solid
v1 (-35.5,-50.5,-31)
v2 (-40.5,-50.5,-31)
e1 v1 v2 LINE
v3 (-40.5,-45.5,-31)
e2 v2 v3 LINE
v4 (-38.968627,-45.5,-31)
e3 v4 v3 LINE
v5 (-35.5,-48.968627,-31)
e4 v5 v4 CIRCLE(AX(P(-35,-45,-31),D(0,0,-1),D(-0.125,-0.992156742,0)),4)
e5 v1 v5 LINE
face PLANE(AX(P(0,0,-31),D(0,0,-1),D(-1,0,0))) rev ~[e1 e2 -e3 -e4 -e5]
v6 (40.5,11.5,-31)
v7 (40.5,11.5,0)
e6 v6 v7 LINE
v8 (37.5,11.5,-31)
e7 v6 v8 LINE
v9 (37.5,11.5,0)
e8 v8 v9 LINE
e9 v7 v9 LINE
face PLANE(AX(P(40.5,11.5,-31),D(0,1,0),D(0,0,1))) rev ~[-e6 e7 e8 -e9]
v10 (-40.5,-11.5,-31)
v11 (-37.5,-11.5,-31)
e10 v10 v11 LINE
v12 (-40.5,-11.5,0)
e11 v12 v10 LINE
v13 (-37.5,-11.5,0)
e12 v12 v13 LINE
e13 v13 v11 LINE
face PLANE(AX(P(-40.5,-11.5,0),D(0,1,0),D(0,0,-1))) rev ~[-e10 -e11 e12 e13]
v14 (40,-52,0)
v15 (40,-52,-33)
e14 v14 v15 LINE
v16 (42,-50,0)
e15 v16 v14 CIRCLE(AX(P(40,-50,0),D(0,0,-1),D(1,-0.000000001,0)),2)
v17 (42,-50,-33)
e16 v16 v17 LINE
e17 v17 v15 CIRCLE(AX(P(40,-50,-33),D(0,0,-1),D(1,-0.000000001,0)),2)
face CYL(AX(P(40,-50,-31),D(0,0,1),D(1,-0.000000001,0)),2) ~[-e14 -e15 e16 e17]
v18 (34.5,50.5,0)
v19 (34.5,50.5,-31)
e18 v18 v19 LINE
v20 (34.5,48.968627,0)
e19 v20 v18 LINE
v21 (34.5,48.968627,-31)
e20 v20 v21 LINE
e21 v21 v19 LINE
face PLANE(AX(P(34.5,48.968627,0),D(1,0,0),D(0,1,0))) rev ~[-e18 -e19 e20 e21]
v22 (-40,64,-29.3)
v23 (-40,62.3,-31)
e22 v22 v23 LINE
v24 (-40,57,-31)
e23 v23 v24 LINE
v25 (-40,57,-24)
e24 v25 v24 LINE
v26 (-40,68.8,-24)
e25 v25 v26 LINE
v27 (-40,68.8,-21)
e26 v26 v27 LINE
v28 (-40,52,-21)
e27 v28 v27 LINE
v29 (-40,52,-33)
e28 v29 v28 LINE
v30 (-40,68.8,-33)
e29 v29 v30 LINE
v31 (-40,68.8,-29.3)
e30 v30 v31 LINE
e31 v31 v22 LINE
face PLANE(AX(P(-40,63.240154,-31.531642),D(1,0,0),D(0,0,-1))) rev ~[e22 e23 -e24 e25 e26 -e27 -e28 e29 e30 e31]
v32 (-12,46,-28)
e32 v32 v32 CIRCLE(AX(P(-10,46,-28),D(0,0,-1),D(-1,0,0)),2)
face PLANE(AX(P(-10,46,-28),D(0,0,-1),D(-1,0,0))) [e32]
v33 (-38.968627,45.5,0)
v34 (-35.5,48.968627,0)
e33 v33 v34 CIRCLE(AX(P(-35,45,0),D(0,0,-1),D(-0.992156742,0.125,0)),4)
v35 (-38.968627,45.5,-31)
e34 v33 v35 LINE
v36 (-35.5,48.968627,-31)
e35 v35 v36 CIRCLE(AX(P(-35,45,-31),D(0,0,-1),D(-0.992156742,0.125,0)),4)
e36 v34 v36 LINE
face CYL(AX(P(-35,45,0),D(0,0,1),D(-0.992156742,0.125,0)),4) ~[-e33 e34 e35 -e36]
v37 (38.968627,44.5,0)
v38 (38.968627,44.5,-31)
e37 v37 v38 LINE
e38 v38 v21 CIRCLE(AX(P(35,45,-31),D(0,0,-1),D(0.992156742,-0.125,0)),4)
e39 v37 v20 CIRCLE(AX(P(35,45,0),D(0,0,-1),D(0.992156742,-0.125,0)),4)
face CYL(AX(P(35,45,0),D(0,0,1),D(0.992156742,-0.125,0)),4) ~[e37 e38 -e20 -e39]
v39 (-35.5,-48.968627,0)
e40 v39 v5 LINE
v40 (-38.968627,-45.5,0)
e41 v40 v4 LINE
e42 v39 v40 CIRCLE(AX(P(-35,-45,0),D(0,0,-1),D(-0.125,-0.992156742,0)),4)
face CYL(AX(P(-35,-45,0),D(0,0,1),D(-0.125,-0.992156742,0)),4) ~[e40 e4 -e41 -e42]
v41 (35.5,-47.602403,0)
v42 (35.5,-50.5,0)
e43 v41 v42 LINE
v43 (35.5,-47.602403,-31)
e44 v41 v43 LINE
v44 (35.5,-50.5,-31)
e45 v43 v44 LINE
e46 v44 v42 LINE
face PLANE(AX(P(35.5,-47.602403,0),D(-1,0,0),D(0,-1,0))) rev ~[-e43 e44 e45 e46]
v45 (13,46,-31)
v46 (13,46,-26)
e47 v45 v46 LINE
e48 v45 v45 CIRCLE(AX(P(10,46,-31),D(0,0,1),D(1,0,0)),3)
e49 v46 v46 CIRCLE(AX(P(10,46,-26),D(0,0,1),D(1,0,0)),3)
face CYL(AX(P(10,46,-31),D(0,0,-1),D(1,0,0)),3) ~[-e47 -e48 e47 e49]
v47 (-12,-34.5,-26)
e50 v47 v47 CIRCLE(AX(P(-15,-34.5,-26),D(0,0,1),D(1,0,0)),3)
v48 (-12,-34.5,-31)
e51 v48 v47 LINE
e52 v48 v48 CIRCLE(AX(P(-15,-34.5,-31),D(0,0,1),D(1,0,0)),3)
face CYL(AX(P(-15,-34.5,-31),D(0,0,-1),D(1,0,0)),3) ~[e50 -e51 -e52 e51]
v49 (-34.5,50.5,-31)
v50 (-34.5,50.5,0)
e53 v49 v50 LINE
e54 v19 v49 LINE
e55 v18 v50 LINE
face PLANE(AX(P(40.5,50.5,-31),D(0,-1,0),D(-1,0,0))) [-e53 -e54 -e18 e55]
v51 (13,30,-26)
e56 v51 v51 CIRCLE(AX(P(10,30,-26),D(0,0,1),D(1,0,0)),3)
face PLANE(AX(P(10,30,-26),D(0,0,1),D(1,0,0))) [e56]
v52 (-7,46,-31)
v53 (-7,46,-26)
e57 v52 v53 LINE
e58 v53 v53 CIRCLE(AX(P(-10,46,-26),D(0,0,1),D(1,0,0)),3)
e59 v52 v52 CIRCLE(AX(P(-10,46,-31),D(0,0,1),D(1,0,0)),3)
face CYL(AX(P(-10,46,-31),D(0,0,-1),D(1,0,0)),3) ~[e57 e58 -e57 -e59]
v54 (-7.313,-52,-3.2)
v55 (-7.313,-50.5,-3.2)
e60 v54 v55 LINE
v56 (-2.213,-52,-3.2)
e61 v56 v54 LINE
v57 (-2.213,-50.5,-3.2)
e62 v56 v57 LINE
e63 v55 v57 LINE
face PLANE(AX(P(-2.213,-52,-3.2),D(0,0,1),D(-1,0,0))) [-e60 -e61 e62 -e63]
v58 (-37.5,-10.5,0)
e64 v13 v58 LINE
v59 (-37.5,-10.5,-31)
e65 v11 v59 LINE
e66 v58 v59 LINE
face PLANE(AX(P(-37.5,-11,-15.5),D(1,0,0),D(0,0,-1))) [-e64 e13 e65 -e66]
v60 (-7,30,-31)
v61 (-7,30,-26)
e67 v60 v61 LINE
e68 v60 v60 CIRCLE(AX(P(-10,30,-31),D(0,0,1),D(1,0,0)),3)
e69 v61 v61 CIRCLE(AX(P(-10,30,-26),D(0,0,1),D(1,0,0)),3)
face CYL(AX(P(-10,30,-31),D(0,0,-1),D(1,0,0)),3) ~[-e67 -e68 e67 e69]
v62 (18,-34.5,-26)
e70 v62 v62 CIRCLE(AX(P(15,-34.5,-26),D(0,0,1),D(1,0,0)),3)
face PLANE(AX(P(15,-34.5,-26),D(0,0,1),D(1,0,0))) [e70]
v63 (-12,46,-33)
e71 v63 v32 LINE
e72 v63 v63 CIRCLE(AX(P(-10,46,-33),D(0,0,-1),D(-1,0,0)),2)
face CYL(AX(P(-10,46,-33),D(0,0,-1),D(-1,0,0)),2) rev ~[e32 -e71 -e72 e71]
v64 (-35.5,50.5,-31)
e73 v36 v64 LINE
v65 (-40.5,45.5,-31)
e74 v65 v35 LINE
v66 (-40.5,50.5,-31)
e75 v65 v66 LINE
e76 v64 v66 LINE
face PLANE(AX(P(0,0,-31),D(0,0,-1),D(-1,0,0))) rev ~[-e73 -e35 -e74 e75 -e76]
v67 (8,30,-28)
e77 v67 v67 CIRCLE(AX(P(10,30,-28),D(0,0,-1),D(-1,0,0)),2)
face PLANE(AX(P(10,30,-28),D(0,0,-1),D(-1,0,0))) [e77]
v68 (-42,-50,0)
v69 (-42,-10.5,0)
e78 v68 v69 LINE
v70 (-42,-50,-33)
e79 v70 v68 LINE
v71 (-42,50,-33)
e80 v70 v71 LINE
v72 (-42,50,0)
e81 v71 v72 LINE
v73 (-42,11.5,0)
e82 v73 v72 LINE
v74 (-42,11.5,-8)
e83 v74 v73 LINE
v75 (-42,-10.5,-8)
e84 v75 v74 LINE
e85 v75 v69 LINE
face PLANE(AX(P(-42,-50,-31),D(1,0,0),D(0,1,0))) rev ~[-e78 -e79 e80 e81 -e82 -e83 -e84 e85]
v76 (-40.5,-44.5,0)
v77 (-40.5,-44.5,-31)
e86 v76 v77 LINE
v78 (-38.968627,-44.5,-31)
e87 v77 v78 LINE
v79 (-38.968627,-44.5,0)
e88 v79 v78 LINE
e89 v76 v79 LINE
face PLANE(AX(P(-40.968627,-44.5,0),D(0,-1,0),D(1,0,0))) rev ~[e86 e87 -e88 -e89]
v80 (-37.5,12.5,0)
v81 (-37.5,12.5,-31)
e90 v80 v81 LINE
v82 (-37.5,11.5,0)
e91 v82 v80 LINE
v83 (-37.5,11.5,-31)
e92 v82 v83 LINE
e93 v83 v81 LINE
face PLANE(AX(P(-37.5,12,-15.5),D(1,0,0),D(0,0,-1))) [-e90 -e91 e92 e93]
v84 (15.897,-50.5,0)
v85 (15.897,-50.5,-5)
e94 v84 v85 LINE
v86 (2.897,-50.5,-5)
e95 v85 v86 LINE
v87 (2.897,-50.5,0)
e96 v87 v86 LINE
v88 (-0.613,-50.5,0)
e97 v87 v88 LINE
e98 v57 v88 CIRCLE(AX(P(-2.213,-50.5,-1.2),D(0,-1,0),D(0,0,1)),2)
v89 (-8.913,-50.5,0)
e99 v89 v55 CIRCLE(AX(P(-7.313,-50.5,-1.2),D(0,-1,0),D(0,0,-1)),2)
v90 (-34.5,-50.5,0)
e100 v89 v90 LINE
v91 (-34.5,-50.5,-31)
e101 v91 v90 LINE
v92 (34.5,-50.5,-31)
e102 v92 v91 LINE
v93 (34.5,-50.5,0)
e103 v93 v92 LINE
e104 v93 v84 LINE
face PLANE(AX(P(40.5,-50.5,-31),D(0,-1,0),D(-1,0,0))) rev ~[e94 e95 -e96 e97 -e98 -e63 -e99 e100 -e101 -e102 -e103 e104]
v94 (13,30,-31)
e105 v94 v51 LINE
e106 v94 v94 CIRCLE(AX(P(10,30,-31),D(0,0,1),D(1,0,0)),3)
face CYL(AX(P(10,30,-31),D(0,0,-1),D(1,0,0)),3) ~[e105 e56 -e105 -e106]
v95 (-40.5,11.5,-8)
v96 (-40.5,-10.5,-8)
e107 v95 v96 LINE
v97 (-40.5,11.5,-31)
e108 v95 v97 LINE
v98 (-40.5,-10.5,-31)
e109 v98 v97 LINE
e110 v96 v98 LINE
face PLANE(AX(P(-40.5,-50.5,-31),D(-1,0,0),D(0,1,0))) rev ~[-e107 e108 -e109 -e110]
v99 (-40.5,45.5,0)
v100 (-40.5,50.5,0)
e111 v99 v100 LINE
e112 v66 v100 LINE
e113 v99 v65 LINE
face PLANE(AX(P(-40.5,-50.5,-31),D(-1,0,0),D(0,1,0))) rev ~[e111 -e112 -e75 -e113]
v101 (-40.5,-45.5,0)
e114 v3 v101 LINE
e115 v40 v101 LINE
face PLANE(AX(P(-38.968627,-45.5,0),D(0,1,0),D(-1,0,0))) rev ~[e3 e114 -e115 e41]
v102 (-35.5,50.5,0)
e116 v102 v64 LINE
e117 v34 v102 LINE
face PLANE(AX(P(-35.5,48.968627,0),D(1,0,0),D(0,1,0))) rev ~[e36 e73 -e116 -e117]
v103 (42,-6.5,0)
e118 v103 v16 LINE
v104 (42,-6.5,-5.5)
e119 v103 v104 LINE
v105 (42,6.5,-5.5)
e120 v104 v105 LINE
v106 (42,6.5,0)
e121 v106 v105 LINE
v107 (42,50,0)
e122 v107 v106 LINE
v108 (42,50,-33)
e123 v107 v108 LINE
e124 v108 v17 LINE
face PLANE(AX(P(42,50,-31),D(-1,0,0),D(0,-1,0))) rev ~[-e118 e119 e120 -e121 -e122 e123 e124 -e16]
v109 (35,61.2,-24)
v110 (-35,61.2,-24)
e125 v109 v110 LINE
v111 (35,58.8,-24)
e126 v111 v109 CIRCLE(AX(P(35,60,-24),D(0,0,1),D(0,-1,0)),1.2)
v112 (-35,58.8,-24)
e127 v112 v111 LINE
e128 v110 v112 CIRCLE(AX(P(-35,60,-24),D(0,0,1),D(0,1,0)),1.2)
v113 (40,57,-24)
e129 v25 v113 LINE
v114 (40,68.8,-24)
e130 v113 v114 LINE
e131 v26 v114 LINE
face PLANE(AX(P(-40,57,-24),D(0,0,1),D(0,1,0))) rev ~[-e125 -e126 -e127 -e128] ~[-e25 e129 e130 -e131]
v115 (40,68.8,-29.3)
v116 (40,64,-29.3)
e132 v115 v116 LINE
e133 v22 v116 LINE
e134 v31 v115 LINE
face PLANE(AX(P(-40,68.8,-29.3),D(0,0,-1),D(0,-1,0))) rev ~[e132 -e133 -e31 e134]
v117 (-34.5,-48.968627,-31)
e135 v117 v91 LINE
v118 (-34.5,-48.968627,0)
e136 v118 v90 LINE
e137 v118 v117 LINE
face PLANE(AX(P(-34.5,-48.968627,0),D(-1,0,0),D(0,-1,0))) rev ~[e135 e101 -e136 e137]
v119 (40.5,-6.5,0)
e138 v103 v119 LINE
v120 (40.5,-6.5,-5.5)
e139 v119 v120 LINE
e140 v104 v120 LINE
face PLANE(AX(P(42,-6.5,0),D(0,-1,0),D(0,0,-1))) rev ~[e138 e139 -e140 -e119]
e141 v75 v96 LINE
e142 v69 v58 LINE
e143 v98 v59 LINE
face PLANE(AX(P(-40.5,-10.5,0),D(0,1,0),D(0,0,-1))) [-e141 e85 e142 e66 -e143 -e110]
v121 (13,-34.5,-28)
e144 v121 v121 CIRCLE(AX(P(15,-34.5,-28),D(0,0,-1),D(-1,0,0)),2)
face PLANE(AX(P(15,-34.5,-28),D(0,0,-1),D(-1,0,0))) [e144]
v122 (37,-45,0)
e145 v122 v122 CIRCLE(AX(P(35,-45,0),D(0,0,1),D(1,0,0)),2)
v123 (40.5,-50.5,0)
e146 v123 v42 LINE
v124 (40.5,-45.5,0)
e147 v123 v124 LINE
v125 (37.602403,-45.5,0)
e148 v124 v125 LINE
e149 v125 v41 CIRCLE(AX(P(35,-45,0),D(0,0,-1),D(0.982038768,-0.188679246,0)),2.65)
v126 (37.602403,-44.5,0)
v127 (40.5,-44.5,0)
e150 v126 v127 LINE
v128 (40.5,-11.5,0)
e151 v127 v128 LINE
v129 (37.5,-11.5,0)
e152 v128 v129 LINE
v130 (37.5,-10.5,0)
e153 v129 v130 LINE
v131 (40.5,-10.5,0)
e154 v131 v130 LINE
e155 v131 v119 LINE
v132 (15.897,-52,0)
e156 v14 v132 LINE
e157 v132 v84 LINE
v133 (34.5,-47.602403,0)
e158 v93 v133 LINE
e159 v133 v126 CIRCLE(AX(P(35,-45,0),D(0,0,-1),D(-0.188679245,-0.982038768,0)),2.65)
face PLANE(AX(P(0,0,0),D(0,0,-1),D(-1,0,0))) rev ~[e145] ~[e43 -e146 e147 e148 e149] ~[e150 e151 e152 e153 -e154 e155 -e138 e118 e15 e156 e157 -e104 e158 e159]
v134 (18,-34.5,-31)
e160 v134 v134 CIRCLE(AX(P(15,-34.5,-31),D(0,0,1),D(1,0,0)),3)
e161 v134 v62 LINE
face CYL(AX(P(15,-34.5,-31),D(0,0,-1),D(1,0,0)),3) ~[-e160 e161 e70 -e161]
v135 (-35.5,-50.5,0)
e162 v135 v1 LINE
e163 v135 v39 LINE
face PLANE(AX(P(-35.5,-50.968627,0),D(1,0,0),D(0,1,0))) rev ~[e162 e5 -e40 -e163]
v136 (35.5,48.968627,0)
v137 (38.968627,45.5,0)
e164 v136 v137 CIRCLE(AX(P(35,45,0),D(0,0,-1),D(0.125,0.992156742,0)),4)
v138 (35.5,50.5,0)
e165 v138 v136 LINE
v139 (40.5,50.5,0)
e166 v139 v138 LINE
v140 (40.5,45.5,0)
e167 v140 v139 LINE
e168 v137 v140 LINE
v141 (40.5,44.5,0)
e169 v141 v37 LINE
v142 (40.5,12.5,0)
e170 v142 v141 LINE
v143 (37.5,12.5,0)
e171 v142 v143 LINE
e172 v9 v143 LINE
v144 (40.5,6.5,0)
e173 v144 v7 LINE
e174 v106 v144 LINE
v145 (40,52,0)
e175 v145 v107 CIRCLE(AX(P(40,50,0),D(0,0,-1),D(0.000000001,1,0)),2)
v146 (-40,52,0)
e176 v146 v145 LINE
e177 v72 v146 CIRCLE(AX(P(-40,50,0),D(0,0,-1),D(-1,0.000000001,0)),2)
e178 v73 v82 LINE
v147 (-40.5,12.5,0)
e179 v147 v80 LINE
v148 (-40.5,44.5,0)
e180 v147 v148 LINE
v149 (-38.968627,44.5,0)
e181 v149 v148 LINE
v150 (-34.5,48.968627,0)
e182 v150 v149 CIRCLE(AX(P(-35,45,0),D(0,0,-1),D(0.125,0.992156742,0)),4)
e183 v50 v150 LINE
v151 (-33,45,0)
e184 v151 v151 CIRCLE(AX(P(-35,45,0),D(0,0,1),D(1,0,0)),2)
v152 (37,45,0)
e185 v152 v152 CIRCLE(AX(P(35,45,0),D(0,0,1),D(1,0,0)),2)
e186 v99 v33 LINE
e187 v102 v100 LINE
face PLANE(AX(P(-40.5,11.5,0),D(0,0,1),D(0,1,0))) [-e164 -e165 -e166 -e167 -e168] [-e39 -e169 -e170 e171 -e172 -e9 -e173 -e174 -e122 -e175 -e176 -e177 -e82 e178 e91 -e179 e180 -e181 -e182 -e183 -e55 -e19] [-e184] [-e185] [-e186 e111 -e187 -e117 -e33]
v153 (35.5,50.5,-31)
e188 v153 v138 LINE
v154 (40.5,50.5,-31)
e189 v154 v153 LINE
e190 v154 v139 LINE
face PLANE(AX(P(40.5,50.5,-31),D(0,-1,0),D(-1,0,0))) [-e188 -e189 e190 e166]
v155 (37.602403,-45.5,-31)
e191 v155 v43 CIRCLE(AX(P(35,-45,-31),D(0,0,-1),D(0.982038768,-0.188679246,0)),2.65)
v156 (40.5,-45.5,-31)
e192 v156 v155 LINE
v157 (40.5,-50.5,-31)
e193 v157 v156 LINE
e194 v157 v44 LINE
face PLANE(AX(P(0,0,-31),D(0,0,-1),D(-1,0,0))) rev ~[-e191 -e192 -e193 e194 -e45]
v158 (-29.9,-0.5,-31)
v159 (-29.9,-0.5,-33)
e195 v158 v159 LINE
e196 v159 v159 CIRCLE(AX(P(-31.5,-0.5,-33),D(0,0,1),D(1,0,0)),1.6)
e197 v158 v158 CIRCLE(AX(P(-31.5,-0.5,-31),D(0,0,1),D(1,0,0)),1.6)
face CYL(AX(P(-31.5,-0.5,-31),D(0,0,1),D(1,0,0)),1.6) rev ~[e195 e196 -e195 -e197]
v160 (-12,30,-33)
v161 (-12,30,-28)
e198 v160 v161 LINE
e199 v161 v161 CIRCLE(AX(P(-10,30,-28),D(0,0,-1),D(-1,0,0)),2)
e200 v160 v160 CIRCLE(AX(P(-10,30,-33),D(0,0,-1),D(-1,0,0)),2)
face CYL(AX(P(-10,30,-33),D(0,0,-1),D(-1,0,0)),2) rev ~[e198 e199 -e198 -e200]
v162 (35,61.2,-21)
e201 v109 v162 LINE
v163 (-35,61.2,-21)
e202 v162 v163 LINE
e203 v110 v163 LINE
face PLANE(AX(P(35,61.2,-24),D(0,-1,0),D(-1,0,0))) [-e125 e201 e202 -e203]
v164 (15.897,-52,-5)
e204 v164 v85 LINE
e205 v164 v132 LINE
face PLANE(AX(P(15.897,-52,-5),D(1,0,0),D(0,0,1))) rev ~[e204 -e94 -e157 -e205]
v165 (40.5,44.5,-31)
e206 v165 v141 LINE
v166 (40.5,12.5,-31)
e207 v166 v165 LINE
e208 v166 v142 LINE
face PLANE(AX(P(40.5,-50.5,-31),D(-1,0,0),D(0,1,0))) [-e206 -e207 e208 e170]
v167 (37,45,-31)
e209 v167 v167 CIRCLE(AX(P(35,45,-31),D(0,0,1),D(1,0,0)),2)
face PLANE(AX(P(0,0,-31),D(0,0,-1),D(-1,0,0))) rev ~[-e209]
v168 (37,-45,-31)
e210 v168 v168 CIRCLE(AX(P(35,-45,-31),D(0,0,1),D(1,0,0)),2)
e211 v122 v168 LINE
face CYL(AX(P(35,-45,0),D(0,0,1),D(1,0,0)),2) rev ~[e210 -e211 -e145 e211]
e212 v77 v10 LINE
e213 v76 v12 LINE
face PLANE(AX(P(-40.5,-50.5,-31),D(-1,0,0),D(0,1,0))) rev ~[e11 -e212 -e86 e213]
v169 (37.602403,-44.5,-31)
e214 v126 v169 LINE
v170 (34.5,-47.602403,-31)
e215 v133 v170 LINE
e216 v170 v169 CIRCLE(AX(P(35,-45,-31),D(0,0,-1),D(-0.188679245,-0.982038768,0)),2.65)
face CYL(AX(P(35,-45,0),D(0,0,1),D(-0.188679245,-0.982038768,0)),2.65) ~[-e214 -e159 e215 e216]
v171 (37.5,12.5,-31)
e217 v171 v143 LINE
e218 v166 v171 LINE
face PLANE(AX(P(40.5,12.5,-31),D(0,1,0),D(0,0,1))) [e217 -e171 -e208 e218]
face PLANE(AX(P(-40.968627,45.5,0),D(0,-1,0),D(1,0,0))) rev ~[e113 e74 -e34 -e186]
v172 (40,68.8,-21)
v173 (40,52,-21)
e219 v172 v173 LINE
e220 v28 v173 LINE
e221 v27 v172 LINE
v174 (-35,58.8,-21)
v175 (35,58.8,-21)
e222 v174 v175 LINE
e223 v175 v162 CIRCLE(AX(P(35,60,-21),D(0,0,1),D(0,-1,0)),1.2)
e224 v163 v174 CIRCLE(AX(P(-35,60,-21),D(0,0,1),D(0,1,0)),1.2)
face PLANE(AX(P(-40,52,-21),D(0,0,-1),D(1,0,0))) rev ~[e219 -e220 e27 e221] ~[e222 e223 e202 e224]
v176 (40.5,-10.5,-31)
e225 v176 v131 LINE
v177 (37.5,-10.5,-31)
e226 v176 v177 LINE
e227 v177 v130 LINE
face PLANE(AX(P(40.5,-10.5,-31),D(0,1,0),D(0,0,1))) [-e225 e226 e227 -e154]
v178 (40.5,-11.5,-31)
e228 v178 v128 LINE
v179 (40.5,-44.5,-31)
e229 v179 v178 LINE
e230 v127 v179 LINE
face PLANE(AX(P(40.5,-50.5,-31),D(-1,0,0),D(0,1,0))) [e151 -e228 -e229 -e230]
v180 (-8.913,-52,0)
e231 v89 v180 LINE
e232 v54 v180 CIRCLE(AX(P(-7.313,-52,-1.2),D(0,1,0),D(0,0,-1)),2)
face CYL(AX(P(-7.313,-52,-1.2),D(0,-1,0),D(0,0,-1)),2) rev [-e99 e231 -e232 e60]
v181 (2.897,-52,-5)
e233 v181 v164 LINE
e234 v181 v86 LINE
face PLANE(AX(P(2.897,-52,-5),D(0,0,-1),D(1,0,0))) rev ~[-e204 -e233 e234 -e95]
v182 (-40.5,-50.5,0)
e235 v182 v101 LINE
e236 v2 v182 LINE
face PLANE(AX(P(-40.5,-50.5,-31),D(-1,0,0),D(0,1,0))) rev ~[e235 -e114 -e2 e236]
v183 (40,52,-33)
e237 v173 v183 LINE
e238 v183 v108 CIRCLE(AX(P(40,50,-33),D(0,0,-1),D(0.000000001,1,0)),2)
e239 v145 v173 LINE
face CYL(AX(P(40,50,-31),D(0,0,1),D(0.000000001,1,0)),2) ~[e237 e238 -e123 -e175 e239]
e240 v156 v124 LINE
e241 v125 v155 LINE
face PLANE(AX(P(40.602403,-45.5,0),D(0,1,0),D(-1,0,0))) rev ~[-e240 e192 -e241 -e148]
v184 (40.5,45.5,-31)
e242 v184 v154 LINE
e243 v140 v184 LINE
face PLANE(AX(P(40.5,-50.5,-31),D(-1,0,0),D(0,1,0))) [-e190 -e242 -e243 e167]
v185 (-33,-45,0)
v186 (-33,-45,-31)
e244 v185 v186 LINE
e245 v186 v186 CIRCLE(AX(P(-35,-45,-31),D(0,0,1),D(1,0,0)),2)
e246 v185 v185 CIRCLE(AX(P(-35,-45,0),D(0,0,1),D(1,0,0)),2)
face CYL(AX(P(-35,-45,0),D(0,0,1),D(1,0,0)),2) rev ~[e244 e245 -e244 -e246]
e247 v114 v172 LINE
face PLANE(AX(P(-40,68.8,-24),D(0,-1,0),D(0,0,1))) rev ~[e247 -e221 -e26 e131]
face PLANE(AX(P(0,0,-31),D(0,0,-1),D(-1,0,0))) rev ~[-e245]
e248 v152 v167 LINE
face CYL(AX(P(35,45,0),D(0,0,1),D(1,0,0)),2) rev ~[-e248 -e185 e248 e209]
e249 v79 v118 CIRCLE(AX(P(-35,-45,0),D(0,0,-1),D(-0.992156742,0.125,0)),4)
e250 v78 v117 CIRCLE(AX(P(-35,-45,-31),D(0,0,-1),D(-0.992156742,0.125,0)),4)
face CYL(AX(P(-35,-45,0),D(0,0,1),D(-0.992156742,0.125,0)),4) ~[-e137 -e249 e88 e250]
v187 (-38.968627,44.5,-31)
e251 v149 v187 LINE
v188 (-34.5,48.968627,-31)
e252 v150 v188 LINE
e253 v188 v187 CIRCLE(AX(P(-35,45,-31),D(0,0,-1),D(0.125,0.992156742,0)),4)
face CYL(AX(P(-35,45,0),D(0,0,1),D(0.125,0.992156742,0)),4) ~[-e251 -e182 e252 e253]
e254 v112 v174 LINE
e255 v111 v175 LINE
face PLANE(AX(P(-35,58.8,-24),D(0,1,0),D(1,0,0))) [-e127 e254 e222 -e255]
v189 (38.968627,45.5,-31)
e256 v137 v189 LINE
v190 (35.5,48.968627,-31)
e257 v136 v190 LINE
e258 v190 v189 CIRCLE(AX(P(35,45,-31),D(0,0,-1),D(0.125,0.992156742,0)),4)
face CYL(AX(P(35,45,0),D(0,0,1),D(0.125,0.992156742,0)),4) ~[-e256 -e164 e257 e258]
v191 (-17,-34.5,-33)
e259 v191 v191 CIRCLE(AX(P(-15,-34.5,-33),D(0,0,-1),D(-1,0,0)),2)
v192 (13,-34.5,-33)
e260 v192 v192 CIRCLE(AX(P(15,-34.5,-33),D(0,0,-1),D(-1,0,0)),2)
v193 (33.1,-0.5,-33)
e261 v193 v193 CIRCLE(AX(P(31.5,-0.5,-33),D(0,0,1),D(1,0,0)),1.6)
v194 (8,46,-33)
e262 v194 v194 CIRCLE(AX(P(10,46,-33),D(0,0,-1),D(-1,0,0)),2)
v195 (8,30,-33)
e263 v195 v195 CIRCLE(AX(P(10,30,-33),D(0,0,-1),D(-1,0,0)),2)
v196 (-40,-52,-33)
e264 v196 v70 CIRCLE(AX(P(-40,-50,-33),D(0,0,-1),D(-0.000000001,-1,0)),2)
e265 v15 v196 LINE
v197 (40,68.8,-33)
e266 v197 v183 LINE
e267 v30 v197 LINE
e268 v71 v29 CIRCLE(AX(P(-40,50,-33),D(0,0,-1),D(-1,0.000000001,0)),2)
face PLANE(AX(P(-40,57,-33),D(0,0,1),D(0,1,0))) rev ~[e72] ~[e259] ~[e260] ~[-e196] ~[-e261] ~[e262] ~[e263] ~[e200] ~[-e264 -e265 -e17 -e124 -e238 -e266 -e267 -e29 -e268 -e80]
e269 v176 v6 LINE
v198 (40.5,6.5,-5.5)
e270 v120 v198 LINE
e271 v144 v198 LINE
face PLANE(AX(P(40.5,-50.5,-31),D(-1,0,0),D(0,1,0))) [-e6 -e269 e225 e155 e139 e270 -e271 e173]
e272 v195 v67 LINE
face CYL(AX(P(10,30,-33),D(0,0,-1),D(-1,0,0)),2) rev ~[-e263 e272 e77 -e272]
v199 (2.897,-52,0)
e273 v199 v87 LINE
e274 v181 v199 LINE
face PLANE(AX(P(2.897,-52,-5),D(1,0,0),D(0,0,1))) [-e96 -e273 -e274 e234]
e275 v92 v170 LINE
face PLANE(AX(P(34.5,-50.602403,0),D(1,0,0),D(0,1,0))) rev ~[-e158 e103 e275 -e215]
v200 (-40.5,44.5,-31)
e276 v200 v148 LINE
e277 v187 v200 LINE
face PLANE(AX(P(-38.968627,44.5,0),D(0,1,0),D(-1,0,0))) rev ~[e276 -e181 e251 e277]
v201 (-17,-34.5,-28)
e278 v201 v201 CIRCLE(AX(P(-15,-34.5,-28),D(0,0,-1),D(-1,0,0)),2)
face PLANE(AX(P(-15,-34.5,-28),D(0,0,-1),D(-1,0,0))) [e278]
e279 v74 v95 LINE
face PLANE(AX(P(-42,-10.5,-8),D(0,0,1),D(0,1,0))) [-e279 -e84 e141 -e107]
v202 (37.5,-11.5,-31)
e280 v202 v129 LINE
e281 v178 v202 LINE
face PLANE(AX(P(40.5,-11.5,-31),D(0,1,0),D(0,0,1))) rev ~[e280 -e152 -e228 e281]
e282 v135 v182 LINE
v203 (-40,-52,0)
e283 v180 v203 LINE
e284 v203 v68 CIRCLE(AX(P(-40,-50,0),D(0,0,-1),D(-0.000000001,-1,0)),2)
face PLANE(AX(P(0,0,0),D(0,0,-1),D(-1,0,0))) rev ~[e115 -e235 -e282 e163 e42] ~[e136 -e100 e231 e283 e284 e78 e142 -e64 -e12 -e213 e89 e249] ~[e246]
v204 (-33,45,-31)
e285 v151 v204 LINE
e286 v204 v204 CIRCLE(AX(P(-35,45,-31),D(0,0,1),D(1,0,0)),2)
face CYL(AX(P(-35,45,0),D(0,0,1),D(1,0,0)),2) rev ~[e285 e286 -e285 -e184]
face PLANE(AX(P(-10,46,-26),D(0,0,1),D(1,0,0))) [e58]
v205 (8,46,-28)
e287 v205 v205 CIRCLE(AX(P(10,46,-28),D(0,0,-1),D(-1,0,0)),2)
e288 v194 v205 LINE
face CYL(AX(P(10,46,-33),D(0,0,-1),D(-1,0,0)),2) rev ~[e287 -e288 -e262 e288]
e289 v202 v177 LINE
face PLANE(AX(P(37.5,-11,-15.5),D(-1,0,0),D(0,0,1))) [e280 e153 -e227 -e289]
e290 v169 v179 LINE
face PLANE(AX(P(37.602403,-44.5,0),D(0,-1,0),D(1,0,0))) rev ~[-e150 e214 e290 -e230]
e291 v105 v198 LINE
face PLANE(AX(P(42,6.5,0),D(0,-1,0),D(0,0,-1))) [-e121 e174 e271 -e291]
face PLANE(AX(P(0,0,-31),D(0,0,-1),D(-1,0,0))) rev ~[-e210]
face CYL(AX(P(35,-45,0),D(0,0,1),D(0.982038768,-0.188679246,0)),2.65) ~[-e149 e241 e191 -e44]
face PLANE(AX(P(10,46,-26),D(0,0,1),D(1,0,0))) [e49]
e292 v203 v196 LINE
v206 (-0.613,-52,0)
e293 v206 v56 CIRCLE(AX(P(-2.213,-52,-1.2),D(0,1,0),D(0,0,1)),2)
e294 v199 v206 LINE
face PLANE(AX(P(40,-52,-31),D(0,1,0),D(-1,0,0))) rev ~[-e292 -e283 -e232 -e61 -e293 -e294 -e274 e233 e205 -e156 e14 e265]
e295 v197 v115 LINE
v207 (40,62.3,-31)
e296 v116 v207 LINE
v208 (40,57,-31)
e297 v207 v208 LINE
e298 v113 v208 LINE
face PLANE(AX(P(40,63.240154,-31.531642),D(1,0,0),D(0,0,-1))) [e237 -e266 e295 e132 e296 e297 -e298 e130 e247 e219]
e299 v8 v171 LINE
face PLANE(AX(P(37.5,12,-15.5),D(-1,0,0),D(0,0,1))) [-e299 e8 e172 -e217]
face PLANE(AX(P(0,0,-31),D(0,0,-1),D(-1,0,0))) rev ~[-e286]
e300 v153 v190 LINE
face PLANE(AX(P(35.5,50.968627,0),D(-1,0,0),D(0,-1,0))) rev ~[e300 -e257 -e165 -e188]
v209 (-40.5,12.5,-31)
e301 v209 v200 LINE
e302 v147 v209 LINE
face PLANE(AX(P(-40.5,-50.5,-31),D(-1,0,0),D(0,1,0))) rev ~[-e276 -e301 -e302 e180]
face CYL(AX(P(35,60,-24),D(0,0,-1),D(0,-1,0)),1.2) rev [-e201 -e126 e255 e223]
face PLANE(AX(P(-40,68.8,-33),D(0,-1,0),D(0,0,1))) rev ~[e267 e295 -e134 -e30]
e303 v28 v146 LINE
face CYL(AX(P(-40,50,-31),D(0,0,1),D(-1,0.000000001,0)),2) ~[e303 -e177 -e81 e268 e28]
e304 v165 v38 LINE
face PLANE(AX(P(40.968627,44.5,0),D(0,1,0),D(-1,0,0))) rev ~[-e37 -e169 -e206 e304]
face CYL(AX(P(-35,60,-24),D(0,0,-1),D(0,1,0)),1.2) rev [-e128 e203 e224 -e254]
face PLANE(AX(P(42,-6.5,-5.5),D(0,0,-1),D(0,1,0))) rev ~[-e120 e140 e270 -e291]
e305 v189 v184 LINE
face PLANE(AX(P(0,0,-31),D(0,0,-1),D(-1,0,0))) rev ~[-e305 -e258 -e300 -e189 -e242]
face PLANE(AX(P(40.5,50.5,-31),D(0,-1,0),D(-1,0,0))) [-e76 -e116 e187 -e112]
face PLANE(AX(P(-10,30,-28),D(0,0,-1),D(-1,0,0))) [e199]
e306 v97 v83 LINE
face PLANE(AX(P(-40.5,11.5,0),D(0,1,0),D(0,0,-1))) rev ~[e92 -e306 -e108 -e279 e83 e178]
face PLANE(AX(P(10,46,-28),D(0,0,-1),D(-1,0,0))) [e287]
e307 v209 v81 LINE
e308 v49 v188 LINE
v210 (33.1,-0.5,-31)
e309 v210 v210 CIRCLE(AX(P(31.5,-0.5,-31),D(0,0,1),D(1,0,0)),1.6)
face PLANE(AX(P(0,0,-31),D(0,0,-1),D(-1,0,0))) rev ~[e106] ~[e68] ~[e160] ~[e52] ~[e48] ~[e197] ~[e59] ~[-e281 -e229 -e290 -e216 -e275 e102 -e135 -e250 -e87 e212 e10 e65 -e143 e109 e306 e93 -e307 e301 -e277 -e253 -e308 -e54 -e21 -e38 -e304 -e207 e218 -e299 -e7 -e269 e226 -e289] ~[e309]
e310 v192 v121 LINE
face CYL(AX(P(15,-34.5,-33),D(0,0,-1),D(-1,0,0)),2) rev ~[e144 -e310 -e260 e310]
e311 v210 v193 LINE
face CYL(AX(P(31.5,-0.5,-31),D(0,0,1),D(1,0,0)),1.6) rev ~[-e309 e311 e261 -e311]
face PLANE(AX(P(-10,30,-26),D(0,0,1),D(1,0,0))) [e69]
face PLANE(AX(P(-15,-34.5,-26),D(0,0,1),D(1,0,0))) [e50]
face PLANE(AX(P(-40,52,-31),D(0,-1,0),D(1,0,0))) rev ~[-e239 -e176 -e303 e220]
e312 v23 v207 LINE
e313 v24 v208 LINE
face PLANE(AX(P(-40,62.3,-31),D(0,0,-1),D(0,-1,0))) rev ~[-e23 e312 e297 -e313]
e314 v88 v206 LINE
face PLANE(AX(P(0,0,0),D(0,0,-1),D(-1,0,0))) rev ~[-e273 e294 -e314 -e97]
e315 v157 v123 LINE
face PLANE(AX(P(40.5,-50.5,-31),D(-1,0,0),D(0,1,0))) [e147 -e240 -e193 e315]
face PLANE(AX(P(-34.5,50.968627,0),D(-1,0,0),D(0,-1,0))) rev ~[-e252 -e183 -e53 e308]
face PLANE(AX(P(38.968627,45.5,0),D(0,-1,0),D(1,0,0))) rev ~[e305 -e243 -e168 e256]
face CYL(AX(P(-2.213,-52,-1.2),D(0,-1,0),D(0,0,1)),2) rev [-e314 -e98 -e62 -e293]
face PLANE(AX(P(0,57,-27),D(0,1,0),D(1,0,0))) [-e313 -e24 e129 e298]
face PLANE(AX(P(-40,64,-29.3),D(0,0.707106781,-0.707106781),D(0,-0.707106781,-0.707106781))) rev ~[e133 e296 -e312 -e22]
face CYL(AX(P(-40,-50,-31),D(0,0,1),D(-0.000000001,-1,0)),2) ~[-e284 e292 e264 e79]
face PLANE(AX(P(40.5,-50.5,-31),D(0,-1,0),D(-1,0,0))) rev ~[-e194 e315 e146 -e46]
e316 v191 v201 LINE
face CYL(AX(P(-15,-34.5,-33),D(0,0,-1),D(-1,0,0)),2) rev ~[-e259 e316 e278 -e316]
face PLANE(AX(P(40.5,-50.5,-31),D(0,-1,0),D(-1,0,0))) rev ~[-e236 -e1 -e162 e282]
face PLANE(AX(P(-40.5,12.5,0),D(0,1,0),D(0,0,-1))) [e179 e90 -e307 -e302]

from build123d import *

# Parameters (mm, degrees)
SKETCH_2_R          = 2
EXTRUDE_1_DEPTH     = 31
EXTRUDE_1_2_DEPTH   = 31
EXTRUDE_1_3_DEPTH   = 31
EXTRUDE_1_4_DEPTH   = 31
SKETCH_3_W          = 81
SKETCH_3_H          = 101
EXTRUDE_2_DEPTH     = 31
EXTRUDE_3_DEPTH     = 2
CUT_EXTRUDE_1_REACH = 86
SKETCH_5_W          = 8
SKETCH_5_H          = 22
CUT_EXTRUDE_2_REACH = 86
SKETCH_6_W          = 5.5
SKETCH_6_H          = 13
CUT_EXTRUDE_3_REACH = 106
SKETCH_7_W          = 13
SKETCH_7_H          = 5
SKETCH_8_R          = 3
EXTRUDE_4_DEPTH     = 5
SKETCH_9_R          = 2
CUT_EXTRUDE_4_DEPTH = 5
SKETCH_10_W         = 80
SKETCH_10_H         = 12
EXTRUDE_5_DEPTH     = 5
SKETCH_11_W         = 3
SKETCH_11_H         = 11.8
EXTRUDE_6_DEPTH     = 80
CUT_EXTRUDE_5_DEPTH = 3
SKETCH_13_R         = 1.6
CUT_EXTRUDE_6_DEPTH = 3
SKETCH_14_W         = 31
SKETCH_14_H         = 1
EXTRUDE_7_DEPTH     = 3
SKETCH_15_W         = 31
SKETCH_15_H         = 1
EXTRUDE_8_DEPTH     = 3


with BuildPart() as part:
    # 草图2 → 凸台-拉伸1 (new body)
    with BuildSketch(Plane.XY):
        with BuildLine():
            Line((-38.968626967, -45.5), (-40.968626967, -45.5))
            Line((-40.968626967, -45.5), (-40.968626967, -44.5))
            Line((-40.968626967, -44.5), (-38.968626967, -44.5))
            ThreePointArc((-38.968626967, -44.5), (-32.171572875, -42.171572875), (-34.5, -48.968626967))
            Line((-34.5, -48.968626967), (-34.5, -50.968626967))
            Line((-34.5, -50.968626967), (-35.5, -50.968626967))
            Line((-35.5, -50.968626967), (-35.5, -48.968626967))
            ThreePointArc((-35.5, -48.968626967), (-37.828427125, -47.828427125), (-38.968626967, -45.5))
        make_face()
        with Locations((-35, -45)):
            Circle(SKETCH_2_R, mode=Mode.SUBTRACT)
    extrude(amount=-EXTRUDE_1_DEPTH)



with BuildPart() as body_2:
    # 草图2 → Extrude 1 2 (new body)
    with BuildSketch(Plane.XY):
        with BuildLine():
            Line((-35.5, 50.968626967), (-34.5, 50.968626967))
            Line((-34.5, 50.968626967), (-34.5, 48.968626967))
            ThreePointArc((-34.5, 48.968626967), (-32.171572875, 42.171572875), (-38.968626967, 44.5))
            Line((-38.968626967, 44.5), (-40.968626967, 44.5))
            Line((-40.968626967, 44.5), (-40.968626967, 45.5))
            Line((-40.968626967, 45.5), (-38.968626967, 45.5))
            ThreePointArc((-38.968626967, 45.5), (-37.828427125, 47.828427125), (-35.5, 48.968626967))
            Line((-35.5, 48.968626967), (-35.5, 50.968626967))
        make_face()
        with Locations((-35, 45)):
            Circle(SKETCH_2_R, mode=Mode.SUBTRACT)
    extrude(amount=-EXTRUDE_1_2_DEPTH)


with BuildPart() as body_3:
    # 草图2 → Extrude 1 3 (new body)
    with BuildSketch(Plane.XY):
        with BuildLine():
            Line((34.5, 50.968626967), (35.5, 50.968626967))
            Line((35.5, 50.968626967), (35.5, 48.968626967))
            ThreePointArc((35.5, 48.968626967), (37.828427125, 47.828427125), (38.968626967, 45.5))
            Line((38.968626967, 45.5), (40.968626967, 45.5))
            Line((40.968626967, 45.5), (40.968626967, 44.5))
            Line((40.968626967, 44.5), (38.968626967, 44.5))
            ThreePointArc((38.968626967, 44.5), (32.171572875, 42.171572875), (34.5, 48.968626967))
            Line((34.5, 48.968626967), (34.5, 50.968626967))
        make_face()
        with Locations((35, 45)):
            Circle(SKETCH_2_R, mode=Mode.SUBTRACT)
    extrude(amount=-EXTRUDE_1_3_DEPTH)


with BuildPart() as body_4:
    # 草图2 → Extrude 1 4 (new body)
    with BuildSketch(Plane.XY):
        with BuildLine():
            Line((40.602402736, -44.5), (40.602402736, -45.5))
            Line((40.602402736, -45.5), (37.602402736, -45.5))
            ThreePointArc((37.602402736, -45.5), (36.87383297, -46.87383297), (35.5, -47.602402736))
            Line((35.5, -47.602402736), (35.5, -50.602402736))
            Line((35.5, -50.602402736), (34.5, -50.602402736))
            Line((34.5, -50.602402736), (34.5, -47.602402736))
            ThreePointArc((34.5, -47.602402736), (33.12616703, -43.12616703), (37.602402736, -44.5))
            Line((37.602402736, -44.5), (40.602402736, -44.5))
        make_face()
        with Locations((35, -45)):
            Circle(SKETCH_2_R, mode=Mode.SUBTRACT)
    extrude(amount=-EXTRUDE_1_4_DEPTH)


with BuildPart() as body_5:
    # 草图3 → 凸台-拉伸2 (new body)
    with BuildSketch(Plane(origin=(0, 0, -31), x_dir=(-1, 0, 0), z_dir=(0, 0, -1))):
        with BuildLine():
            Line((-40, -52), (40, -52))
            ThreePointArc((40, -52), (41.414213562, -51.414213562), (42, -50))
            Line((42, -50), (42, 50))
            ThreePointArc((42, 50), (41.414213562, 51.414213562), (40, 52))
            Line((40, 52), (-40, 52))
            ThreePointArc((-40, 52), (-41.414213562, 51.414213562), (-42, 50))
            Line((-42, 50), (-42, -50))
            ThreePointArc((-42, -50), (-41.414213562, -51.414213562), (-40, -52))
        make_face()
        Rectangle(SKETCH_3_W, SKETCH_3_H, mode=Mode.SUBTRACT)
    extrude(amount=-EXTRUDE_2_DEPTH)


with BuildPart() as part_1:
    add(part.part)

    add(body_2.part)  # 凸台-拉伸3 merges body 2

    add(body_3.part)  # 凸台-拉伸3 merges body 3

    add(body_4.part)  # 凸台-拉伸3 merges body 4

    add(body_5.part)  # 凸台-拉伸3 merges body 5
    # 草图4 → 凸台-拉伸3 (add)
    with BuildSketch(Plane(origin=(0, 0, -31), x_dir=(-1, 0, 0), z_dir=(0, 0, -1))):
        with BuildLine():
            Line((40, 52), (-40, 52))
            ThreePointArc((-40, 52), (-41.414213562, 51.414213562), (-42, 50))
            Line((-42, 50), (-42, -50))
            ThreePointArc((-42, -50), (-41.414213562, -51.414213562), (-40, -52))
            Line((-40, -52), (40, -52))
            ThreePointArc((40, -52), (41.414213562, -51.414213562), (42, -50))
            Line((42, -50), (42, 50))
            ThreePointArc((42, 50), (41.414213562, 51.414213562), (40, 52))
        make_face()
    extrude(amount=EXTRUDE_3_DEPTH)

    # 草图5 → 切除-拉伸1 (cut, up to next)
    with BuildSketch(Plane.ZY.offset(42), mode=Mode.PRIVATE) as cut_extrude_1_sk1:
        with Locations((-4, 0.5)):
            Rectangle(SKETCH_5_W, SKETCH_5_H)
    cut_extrude_1_tool1 = extrude(cut_extrude_1_sk1.sketch, amount=-CUT_EXTRUDE_1_REACH, mode=Mode.PRIVATE) & part_1.part
    add(cut_extrude_1_tool1.solids().sort_by_distance((-42, 0.5, -4))[0], mode=Mode.SUBTRACT)

    # 草图6 → 切除-拉伸2 (cut, up to next)
    with BuildSketch(Plane(origin=(42, 0, 0), x_dir=(0, 0, -1), z_dir=(1, 0, 0)), mode=Mode.PRIVATE) as cut_extrude_2_sk1:
        with Locations((2.75, 0)):
            Rectangle(SKETCH_6_W, SKETCH_6_H)
    cut_extrude_2_tool1 = extrude(cut_extrude_2_sk1.sketch, amount=-CUT_EXTRUDE_2_REACH, mode=Mode.PRIVATE) & part_1.part
    add(cut_extrude_2_tool1.solids().sort_by_distance((42, 0, -2.75))[0], mode=Mode.SUBTRACT)

    # 草图7 → 切除-拉伸3 (cut, up to next)
    with BuildSketch(Plane.XZ.offset(52), mode=Mode.PRIVATE) as cut_extrude_3_sk1:
        with BuildLine():
            Line((-2.213, -3.2), (-7.313, -3.2))
            ThreePointArc((-7.313, -3.2), (-9.313, -1.2), (-7.313, 0.8))
            Line((-7.313, 0.8), (-2.213, 0.8))
            ThreePointArc((-2.213, 0.8), (-0.213, -1.2), (-2.213, -3.2))
        make_face()
    cut_extrude_3_tool1 = extrude(cut_extrude_3_sk1.sketch, amount=-CUT_EXTRUDE_3_REACH, mode=Mode.PRIVATE) & part_1.part
    add(cut_extrude_3_tool1.solids().sort_by_distance((-4.763, -52, -1.2))[0], mode=Mode.SUBTRACT)
    # 草图7 → 切除-拉伸3 (cut, up to next)
    with BuildSketch(Plane.XZ.offset(52), mode=Mode.PRIVATE) as cut_extrude_3_sk2:
        with Locations((9.397, -2.5)):
            Rectangle(SKETCH_7_W, SKETCH_7_H)
    cut_extrude_3_tool2 = extrude(cut_extrude_3_sk2.sketch, amount=-CUT_EXTRUDE_3_REACH, mode=Mode.PRIVATE) & part_1.part
    add(cut_extrude_3_tool2.solids().sort_by_distance((9.397, -52, -2.5))[0], mode=Mode.SUBTRACT)

    # 草图8 → 凸台-拉伸4 (add)
    with BuildSketch(Plane.XY.offset(-31)):
        with Locations((-15, -34.5)):
            Circle(SKETCH_8_R)
        with Locations((15, -34.5)):
            Circle(SKETCH_8_R)
        with Locations((-10, 46)):
            Circle(SKETCH_8_R)
        with Locations((10, 46)):
            Circle(SKETCH_8_R)
        with Locations((-10, 30)):
            Circle(SKETCH_8_R)
        with Locations((10, 30)):
            Circle(SKETCH_8_R)
    extrude(amount=EXTRUDE_4_DEPTH)

    # 草图9 → 切除-拉伸4 (cut)
    with BuildSketch(Plane(origin=(0, 0, -33), x_dir=(-1, 0, 0), z_dir=(0, 0, -1))):
        with Locations((-15, -34.5)):
            Circle(SKETCH_9_R)
        with Locations((15, -34.5)):
            Circle(SKETCH_9_R)
        with Locations((-10, 46)):
            Circle(SKETCH_9_R)
        with Locations((10, 46)):
            Circle(SKETCH_9_R)
        with Locations((10, 30)):
            Circle(SKETCH_9_R)
        with Locations((-10, 30)):
            Circle(SKETCH_9_R)
    extrude(amount=-CUT_EXTRUDE_4_DEPTH, mode=Mode.SUBTRACT)

    # 草图10 → 凸台-拉伸5 (add)
    with BuildSketch(Plane(origin=(0, 52, 0), x_dir=(1, 0, 0), z_dir=(0, 1, 0))):
        with Locations((0, 27)):
            Rectangle(SKETCH_10_W, SKETCH_10_H)
    extrude(amount=EXTRUDE_5_DEPTH)

    # 草图11 → 凸台-拉伸6 (add)
    with BuildSketch(Plane.ZY.offset(40)):
        Polygon((-33, 57), (-33, 68.8), (-29.3, 68.8), (-29.3, 64), (-31, 62.3), (-31, 57), align=None)
        with Locations((-22.5, 62.9)):
            Rectangle(SKETCH_11_W, SKETCH_11_H)
    extrude(amount=-EXTRUDE_6_DEPTH)

    # 草图12 → 切除-拉伸5 (cut)
    with BuildSketch(Plane(origin=(0, 0, -24), x_dir=(-1, 0, 0), z_dir=(0, 0, -1))):
        with BuildLine():
            Line((-35, 61.2), (35, 61.2))
            ThreePointArc((35, 61.2), (36.2, 60), (35, 58.8))
            Line((35, 58.8), (-35, 58.8))
            ThreePointArc((-35, 58.8), (-36.2, 60), (-35, 61.2))
        make_face()
    extrude(amount=-CUT_EXTRUDE_5_DEPTH, mode=Mode.SUBTRACT)

    # 草图13 → 切除-拉伸6 (cut, through all)
    with BuildSketch(Plane.XY.offset(-31)):
        with Locations((-31.5, -0.5)):
            Circle(SKETCH_13_R)
        with Locations((31.5, -0.5)):
            Circle(SKETCH_13_R)
    extrude(amount=-CUT_EXTRUDE_6_DEPTH, mode=Mode.SUBTRACT)

    # 草图14 → 凸台-拉伸7 (add)
    with BuildSketch(Plane(origin=(-40.5, 0, 0), x_dir=(0, 0, -1), z_dir=(1, 0, 0))):
        with Locations((15.5, 12)):
            Rectangle(SKETCH_14_W, SKETCH_14_H)
        with Locations((15.5, -11)):
            Rectangle(SKETCH_14_W, SKETCH_14_H)
    extrude(amount=EXTRUDE_7_DEPTH)

    # 草图15 → 凸台-拉伸8 (add)
    with BuildSketch(Plane.ZY.offset(-40.5)):
        with Locations((-15.5, 12)):
            Rectangle(SKETCH_15_W, SKETCH_15_H)
        with Locations((-15.5, -11)):
            Rectangle(SKETCH_15_W, SKETCH_15_H)
    extrude(amount=EXTRUDE_8_DEPTH)


solid = part_1.part
